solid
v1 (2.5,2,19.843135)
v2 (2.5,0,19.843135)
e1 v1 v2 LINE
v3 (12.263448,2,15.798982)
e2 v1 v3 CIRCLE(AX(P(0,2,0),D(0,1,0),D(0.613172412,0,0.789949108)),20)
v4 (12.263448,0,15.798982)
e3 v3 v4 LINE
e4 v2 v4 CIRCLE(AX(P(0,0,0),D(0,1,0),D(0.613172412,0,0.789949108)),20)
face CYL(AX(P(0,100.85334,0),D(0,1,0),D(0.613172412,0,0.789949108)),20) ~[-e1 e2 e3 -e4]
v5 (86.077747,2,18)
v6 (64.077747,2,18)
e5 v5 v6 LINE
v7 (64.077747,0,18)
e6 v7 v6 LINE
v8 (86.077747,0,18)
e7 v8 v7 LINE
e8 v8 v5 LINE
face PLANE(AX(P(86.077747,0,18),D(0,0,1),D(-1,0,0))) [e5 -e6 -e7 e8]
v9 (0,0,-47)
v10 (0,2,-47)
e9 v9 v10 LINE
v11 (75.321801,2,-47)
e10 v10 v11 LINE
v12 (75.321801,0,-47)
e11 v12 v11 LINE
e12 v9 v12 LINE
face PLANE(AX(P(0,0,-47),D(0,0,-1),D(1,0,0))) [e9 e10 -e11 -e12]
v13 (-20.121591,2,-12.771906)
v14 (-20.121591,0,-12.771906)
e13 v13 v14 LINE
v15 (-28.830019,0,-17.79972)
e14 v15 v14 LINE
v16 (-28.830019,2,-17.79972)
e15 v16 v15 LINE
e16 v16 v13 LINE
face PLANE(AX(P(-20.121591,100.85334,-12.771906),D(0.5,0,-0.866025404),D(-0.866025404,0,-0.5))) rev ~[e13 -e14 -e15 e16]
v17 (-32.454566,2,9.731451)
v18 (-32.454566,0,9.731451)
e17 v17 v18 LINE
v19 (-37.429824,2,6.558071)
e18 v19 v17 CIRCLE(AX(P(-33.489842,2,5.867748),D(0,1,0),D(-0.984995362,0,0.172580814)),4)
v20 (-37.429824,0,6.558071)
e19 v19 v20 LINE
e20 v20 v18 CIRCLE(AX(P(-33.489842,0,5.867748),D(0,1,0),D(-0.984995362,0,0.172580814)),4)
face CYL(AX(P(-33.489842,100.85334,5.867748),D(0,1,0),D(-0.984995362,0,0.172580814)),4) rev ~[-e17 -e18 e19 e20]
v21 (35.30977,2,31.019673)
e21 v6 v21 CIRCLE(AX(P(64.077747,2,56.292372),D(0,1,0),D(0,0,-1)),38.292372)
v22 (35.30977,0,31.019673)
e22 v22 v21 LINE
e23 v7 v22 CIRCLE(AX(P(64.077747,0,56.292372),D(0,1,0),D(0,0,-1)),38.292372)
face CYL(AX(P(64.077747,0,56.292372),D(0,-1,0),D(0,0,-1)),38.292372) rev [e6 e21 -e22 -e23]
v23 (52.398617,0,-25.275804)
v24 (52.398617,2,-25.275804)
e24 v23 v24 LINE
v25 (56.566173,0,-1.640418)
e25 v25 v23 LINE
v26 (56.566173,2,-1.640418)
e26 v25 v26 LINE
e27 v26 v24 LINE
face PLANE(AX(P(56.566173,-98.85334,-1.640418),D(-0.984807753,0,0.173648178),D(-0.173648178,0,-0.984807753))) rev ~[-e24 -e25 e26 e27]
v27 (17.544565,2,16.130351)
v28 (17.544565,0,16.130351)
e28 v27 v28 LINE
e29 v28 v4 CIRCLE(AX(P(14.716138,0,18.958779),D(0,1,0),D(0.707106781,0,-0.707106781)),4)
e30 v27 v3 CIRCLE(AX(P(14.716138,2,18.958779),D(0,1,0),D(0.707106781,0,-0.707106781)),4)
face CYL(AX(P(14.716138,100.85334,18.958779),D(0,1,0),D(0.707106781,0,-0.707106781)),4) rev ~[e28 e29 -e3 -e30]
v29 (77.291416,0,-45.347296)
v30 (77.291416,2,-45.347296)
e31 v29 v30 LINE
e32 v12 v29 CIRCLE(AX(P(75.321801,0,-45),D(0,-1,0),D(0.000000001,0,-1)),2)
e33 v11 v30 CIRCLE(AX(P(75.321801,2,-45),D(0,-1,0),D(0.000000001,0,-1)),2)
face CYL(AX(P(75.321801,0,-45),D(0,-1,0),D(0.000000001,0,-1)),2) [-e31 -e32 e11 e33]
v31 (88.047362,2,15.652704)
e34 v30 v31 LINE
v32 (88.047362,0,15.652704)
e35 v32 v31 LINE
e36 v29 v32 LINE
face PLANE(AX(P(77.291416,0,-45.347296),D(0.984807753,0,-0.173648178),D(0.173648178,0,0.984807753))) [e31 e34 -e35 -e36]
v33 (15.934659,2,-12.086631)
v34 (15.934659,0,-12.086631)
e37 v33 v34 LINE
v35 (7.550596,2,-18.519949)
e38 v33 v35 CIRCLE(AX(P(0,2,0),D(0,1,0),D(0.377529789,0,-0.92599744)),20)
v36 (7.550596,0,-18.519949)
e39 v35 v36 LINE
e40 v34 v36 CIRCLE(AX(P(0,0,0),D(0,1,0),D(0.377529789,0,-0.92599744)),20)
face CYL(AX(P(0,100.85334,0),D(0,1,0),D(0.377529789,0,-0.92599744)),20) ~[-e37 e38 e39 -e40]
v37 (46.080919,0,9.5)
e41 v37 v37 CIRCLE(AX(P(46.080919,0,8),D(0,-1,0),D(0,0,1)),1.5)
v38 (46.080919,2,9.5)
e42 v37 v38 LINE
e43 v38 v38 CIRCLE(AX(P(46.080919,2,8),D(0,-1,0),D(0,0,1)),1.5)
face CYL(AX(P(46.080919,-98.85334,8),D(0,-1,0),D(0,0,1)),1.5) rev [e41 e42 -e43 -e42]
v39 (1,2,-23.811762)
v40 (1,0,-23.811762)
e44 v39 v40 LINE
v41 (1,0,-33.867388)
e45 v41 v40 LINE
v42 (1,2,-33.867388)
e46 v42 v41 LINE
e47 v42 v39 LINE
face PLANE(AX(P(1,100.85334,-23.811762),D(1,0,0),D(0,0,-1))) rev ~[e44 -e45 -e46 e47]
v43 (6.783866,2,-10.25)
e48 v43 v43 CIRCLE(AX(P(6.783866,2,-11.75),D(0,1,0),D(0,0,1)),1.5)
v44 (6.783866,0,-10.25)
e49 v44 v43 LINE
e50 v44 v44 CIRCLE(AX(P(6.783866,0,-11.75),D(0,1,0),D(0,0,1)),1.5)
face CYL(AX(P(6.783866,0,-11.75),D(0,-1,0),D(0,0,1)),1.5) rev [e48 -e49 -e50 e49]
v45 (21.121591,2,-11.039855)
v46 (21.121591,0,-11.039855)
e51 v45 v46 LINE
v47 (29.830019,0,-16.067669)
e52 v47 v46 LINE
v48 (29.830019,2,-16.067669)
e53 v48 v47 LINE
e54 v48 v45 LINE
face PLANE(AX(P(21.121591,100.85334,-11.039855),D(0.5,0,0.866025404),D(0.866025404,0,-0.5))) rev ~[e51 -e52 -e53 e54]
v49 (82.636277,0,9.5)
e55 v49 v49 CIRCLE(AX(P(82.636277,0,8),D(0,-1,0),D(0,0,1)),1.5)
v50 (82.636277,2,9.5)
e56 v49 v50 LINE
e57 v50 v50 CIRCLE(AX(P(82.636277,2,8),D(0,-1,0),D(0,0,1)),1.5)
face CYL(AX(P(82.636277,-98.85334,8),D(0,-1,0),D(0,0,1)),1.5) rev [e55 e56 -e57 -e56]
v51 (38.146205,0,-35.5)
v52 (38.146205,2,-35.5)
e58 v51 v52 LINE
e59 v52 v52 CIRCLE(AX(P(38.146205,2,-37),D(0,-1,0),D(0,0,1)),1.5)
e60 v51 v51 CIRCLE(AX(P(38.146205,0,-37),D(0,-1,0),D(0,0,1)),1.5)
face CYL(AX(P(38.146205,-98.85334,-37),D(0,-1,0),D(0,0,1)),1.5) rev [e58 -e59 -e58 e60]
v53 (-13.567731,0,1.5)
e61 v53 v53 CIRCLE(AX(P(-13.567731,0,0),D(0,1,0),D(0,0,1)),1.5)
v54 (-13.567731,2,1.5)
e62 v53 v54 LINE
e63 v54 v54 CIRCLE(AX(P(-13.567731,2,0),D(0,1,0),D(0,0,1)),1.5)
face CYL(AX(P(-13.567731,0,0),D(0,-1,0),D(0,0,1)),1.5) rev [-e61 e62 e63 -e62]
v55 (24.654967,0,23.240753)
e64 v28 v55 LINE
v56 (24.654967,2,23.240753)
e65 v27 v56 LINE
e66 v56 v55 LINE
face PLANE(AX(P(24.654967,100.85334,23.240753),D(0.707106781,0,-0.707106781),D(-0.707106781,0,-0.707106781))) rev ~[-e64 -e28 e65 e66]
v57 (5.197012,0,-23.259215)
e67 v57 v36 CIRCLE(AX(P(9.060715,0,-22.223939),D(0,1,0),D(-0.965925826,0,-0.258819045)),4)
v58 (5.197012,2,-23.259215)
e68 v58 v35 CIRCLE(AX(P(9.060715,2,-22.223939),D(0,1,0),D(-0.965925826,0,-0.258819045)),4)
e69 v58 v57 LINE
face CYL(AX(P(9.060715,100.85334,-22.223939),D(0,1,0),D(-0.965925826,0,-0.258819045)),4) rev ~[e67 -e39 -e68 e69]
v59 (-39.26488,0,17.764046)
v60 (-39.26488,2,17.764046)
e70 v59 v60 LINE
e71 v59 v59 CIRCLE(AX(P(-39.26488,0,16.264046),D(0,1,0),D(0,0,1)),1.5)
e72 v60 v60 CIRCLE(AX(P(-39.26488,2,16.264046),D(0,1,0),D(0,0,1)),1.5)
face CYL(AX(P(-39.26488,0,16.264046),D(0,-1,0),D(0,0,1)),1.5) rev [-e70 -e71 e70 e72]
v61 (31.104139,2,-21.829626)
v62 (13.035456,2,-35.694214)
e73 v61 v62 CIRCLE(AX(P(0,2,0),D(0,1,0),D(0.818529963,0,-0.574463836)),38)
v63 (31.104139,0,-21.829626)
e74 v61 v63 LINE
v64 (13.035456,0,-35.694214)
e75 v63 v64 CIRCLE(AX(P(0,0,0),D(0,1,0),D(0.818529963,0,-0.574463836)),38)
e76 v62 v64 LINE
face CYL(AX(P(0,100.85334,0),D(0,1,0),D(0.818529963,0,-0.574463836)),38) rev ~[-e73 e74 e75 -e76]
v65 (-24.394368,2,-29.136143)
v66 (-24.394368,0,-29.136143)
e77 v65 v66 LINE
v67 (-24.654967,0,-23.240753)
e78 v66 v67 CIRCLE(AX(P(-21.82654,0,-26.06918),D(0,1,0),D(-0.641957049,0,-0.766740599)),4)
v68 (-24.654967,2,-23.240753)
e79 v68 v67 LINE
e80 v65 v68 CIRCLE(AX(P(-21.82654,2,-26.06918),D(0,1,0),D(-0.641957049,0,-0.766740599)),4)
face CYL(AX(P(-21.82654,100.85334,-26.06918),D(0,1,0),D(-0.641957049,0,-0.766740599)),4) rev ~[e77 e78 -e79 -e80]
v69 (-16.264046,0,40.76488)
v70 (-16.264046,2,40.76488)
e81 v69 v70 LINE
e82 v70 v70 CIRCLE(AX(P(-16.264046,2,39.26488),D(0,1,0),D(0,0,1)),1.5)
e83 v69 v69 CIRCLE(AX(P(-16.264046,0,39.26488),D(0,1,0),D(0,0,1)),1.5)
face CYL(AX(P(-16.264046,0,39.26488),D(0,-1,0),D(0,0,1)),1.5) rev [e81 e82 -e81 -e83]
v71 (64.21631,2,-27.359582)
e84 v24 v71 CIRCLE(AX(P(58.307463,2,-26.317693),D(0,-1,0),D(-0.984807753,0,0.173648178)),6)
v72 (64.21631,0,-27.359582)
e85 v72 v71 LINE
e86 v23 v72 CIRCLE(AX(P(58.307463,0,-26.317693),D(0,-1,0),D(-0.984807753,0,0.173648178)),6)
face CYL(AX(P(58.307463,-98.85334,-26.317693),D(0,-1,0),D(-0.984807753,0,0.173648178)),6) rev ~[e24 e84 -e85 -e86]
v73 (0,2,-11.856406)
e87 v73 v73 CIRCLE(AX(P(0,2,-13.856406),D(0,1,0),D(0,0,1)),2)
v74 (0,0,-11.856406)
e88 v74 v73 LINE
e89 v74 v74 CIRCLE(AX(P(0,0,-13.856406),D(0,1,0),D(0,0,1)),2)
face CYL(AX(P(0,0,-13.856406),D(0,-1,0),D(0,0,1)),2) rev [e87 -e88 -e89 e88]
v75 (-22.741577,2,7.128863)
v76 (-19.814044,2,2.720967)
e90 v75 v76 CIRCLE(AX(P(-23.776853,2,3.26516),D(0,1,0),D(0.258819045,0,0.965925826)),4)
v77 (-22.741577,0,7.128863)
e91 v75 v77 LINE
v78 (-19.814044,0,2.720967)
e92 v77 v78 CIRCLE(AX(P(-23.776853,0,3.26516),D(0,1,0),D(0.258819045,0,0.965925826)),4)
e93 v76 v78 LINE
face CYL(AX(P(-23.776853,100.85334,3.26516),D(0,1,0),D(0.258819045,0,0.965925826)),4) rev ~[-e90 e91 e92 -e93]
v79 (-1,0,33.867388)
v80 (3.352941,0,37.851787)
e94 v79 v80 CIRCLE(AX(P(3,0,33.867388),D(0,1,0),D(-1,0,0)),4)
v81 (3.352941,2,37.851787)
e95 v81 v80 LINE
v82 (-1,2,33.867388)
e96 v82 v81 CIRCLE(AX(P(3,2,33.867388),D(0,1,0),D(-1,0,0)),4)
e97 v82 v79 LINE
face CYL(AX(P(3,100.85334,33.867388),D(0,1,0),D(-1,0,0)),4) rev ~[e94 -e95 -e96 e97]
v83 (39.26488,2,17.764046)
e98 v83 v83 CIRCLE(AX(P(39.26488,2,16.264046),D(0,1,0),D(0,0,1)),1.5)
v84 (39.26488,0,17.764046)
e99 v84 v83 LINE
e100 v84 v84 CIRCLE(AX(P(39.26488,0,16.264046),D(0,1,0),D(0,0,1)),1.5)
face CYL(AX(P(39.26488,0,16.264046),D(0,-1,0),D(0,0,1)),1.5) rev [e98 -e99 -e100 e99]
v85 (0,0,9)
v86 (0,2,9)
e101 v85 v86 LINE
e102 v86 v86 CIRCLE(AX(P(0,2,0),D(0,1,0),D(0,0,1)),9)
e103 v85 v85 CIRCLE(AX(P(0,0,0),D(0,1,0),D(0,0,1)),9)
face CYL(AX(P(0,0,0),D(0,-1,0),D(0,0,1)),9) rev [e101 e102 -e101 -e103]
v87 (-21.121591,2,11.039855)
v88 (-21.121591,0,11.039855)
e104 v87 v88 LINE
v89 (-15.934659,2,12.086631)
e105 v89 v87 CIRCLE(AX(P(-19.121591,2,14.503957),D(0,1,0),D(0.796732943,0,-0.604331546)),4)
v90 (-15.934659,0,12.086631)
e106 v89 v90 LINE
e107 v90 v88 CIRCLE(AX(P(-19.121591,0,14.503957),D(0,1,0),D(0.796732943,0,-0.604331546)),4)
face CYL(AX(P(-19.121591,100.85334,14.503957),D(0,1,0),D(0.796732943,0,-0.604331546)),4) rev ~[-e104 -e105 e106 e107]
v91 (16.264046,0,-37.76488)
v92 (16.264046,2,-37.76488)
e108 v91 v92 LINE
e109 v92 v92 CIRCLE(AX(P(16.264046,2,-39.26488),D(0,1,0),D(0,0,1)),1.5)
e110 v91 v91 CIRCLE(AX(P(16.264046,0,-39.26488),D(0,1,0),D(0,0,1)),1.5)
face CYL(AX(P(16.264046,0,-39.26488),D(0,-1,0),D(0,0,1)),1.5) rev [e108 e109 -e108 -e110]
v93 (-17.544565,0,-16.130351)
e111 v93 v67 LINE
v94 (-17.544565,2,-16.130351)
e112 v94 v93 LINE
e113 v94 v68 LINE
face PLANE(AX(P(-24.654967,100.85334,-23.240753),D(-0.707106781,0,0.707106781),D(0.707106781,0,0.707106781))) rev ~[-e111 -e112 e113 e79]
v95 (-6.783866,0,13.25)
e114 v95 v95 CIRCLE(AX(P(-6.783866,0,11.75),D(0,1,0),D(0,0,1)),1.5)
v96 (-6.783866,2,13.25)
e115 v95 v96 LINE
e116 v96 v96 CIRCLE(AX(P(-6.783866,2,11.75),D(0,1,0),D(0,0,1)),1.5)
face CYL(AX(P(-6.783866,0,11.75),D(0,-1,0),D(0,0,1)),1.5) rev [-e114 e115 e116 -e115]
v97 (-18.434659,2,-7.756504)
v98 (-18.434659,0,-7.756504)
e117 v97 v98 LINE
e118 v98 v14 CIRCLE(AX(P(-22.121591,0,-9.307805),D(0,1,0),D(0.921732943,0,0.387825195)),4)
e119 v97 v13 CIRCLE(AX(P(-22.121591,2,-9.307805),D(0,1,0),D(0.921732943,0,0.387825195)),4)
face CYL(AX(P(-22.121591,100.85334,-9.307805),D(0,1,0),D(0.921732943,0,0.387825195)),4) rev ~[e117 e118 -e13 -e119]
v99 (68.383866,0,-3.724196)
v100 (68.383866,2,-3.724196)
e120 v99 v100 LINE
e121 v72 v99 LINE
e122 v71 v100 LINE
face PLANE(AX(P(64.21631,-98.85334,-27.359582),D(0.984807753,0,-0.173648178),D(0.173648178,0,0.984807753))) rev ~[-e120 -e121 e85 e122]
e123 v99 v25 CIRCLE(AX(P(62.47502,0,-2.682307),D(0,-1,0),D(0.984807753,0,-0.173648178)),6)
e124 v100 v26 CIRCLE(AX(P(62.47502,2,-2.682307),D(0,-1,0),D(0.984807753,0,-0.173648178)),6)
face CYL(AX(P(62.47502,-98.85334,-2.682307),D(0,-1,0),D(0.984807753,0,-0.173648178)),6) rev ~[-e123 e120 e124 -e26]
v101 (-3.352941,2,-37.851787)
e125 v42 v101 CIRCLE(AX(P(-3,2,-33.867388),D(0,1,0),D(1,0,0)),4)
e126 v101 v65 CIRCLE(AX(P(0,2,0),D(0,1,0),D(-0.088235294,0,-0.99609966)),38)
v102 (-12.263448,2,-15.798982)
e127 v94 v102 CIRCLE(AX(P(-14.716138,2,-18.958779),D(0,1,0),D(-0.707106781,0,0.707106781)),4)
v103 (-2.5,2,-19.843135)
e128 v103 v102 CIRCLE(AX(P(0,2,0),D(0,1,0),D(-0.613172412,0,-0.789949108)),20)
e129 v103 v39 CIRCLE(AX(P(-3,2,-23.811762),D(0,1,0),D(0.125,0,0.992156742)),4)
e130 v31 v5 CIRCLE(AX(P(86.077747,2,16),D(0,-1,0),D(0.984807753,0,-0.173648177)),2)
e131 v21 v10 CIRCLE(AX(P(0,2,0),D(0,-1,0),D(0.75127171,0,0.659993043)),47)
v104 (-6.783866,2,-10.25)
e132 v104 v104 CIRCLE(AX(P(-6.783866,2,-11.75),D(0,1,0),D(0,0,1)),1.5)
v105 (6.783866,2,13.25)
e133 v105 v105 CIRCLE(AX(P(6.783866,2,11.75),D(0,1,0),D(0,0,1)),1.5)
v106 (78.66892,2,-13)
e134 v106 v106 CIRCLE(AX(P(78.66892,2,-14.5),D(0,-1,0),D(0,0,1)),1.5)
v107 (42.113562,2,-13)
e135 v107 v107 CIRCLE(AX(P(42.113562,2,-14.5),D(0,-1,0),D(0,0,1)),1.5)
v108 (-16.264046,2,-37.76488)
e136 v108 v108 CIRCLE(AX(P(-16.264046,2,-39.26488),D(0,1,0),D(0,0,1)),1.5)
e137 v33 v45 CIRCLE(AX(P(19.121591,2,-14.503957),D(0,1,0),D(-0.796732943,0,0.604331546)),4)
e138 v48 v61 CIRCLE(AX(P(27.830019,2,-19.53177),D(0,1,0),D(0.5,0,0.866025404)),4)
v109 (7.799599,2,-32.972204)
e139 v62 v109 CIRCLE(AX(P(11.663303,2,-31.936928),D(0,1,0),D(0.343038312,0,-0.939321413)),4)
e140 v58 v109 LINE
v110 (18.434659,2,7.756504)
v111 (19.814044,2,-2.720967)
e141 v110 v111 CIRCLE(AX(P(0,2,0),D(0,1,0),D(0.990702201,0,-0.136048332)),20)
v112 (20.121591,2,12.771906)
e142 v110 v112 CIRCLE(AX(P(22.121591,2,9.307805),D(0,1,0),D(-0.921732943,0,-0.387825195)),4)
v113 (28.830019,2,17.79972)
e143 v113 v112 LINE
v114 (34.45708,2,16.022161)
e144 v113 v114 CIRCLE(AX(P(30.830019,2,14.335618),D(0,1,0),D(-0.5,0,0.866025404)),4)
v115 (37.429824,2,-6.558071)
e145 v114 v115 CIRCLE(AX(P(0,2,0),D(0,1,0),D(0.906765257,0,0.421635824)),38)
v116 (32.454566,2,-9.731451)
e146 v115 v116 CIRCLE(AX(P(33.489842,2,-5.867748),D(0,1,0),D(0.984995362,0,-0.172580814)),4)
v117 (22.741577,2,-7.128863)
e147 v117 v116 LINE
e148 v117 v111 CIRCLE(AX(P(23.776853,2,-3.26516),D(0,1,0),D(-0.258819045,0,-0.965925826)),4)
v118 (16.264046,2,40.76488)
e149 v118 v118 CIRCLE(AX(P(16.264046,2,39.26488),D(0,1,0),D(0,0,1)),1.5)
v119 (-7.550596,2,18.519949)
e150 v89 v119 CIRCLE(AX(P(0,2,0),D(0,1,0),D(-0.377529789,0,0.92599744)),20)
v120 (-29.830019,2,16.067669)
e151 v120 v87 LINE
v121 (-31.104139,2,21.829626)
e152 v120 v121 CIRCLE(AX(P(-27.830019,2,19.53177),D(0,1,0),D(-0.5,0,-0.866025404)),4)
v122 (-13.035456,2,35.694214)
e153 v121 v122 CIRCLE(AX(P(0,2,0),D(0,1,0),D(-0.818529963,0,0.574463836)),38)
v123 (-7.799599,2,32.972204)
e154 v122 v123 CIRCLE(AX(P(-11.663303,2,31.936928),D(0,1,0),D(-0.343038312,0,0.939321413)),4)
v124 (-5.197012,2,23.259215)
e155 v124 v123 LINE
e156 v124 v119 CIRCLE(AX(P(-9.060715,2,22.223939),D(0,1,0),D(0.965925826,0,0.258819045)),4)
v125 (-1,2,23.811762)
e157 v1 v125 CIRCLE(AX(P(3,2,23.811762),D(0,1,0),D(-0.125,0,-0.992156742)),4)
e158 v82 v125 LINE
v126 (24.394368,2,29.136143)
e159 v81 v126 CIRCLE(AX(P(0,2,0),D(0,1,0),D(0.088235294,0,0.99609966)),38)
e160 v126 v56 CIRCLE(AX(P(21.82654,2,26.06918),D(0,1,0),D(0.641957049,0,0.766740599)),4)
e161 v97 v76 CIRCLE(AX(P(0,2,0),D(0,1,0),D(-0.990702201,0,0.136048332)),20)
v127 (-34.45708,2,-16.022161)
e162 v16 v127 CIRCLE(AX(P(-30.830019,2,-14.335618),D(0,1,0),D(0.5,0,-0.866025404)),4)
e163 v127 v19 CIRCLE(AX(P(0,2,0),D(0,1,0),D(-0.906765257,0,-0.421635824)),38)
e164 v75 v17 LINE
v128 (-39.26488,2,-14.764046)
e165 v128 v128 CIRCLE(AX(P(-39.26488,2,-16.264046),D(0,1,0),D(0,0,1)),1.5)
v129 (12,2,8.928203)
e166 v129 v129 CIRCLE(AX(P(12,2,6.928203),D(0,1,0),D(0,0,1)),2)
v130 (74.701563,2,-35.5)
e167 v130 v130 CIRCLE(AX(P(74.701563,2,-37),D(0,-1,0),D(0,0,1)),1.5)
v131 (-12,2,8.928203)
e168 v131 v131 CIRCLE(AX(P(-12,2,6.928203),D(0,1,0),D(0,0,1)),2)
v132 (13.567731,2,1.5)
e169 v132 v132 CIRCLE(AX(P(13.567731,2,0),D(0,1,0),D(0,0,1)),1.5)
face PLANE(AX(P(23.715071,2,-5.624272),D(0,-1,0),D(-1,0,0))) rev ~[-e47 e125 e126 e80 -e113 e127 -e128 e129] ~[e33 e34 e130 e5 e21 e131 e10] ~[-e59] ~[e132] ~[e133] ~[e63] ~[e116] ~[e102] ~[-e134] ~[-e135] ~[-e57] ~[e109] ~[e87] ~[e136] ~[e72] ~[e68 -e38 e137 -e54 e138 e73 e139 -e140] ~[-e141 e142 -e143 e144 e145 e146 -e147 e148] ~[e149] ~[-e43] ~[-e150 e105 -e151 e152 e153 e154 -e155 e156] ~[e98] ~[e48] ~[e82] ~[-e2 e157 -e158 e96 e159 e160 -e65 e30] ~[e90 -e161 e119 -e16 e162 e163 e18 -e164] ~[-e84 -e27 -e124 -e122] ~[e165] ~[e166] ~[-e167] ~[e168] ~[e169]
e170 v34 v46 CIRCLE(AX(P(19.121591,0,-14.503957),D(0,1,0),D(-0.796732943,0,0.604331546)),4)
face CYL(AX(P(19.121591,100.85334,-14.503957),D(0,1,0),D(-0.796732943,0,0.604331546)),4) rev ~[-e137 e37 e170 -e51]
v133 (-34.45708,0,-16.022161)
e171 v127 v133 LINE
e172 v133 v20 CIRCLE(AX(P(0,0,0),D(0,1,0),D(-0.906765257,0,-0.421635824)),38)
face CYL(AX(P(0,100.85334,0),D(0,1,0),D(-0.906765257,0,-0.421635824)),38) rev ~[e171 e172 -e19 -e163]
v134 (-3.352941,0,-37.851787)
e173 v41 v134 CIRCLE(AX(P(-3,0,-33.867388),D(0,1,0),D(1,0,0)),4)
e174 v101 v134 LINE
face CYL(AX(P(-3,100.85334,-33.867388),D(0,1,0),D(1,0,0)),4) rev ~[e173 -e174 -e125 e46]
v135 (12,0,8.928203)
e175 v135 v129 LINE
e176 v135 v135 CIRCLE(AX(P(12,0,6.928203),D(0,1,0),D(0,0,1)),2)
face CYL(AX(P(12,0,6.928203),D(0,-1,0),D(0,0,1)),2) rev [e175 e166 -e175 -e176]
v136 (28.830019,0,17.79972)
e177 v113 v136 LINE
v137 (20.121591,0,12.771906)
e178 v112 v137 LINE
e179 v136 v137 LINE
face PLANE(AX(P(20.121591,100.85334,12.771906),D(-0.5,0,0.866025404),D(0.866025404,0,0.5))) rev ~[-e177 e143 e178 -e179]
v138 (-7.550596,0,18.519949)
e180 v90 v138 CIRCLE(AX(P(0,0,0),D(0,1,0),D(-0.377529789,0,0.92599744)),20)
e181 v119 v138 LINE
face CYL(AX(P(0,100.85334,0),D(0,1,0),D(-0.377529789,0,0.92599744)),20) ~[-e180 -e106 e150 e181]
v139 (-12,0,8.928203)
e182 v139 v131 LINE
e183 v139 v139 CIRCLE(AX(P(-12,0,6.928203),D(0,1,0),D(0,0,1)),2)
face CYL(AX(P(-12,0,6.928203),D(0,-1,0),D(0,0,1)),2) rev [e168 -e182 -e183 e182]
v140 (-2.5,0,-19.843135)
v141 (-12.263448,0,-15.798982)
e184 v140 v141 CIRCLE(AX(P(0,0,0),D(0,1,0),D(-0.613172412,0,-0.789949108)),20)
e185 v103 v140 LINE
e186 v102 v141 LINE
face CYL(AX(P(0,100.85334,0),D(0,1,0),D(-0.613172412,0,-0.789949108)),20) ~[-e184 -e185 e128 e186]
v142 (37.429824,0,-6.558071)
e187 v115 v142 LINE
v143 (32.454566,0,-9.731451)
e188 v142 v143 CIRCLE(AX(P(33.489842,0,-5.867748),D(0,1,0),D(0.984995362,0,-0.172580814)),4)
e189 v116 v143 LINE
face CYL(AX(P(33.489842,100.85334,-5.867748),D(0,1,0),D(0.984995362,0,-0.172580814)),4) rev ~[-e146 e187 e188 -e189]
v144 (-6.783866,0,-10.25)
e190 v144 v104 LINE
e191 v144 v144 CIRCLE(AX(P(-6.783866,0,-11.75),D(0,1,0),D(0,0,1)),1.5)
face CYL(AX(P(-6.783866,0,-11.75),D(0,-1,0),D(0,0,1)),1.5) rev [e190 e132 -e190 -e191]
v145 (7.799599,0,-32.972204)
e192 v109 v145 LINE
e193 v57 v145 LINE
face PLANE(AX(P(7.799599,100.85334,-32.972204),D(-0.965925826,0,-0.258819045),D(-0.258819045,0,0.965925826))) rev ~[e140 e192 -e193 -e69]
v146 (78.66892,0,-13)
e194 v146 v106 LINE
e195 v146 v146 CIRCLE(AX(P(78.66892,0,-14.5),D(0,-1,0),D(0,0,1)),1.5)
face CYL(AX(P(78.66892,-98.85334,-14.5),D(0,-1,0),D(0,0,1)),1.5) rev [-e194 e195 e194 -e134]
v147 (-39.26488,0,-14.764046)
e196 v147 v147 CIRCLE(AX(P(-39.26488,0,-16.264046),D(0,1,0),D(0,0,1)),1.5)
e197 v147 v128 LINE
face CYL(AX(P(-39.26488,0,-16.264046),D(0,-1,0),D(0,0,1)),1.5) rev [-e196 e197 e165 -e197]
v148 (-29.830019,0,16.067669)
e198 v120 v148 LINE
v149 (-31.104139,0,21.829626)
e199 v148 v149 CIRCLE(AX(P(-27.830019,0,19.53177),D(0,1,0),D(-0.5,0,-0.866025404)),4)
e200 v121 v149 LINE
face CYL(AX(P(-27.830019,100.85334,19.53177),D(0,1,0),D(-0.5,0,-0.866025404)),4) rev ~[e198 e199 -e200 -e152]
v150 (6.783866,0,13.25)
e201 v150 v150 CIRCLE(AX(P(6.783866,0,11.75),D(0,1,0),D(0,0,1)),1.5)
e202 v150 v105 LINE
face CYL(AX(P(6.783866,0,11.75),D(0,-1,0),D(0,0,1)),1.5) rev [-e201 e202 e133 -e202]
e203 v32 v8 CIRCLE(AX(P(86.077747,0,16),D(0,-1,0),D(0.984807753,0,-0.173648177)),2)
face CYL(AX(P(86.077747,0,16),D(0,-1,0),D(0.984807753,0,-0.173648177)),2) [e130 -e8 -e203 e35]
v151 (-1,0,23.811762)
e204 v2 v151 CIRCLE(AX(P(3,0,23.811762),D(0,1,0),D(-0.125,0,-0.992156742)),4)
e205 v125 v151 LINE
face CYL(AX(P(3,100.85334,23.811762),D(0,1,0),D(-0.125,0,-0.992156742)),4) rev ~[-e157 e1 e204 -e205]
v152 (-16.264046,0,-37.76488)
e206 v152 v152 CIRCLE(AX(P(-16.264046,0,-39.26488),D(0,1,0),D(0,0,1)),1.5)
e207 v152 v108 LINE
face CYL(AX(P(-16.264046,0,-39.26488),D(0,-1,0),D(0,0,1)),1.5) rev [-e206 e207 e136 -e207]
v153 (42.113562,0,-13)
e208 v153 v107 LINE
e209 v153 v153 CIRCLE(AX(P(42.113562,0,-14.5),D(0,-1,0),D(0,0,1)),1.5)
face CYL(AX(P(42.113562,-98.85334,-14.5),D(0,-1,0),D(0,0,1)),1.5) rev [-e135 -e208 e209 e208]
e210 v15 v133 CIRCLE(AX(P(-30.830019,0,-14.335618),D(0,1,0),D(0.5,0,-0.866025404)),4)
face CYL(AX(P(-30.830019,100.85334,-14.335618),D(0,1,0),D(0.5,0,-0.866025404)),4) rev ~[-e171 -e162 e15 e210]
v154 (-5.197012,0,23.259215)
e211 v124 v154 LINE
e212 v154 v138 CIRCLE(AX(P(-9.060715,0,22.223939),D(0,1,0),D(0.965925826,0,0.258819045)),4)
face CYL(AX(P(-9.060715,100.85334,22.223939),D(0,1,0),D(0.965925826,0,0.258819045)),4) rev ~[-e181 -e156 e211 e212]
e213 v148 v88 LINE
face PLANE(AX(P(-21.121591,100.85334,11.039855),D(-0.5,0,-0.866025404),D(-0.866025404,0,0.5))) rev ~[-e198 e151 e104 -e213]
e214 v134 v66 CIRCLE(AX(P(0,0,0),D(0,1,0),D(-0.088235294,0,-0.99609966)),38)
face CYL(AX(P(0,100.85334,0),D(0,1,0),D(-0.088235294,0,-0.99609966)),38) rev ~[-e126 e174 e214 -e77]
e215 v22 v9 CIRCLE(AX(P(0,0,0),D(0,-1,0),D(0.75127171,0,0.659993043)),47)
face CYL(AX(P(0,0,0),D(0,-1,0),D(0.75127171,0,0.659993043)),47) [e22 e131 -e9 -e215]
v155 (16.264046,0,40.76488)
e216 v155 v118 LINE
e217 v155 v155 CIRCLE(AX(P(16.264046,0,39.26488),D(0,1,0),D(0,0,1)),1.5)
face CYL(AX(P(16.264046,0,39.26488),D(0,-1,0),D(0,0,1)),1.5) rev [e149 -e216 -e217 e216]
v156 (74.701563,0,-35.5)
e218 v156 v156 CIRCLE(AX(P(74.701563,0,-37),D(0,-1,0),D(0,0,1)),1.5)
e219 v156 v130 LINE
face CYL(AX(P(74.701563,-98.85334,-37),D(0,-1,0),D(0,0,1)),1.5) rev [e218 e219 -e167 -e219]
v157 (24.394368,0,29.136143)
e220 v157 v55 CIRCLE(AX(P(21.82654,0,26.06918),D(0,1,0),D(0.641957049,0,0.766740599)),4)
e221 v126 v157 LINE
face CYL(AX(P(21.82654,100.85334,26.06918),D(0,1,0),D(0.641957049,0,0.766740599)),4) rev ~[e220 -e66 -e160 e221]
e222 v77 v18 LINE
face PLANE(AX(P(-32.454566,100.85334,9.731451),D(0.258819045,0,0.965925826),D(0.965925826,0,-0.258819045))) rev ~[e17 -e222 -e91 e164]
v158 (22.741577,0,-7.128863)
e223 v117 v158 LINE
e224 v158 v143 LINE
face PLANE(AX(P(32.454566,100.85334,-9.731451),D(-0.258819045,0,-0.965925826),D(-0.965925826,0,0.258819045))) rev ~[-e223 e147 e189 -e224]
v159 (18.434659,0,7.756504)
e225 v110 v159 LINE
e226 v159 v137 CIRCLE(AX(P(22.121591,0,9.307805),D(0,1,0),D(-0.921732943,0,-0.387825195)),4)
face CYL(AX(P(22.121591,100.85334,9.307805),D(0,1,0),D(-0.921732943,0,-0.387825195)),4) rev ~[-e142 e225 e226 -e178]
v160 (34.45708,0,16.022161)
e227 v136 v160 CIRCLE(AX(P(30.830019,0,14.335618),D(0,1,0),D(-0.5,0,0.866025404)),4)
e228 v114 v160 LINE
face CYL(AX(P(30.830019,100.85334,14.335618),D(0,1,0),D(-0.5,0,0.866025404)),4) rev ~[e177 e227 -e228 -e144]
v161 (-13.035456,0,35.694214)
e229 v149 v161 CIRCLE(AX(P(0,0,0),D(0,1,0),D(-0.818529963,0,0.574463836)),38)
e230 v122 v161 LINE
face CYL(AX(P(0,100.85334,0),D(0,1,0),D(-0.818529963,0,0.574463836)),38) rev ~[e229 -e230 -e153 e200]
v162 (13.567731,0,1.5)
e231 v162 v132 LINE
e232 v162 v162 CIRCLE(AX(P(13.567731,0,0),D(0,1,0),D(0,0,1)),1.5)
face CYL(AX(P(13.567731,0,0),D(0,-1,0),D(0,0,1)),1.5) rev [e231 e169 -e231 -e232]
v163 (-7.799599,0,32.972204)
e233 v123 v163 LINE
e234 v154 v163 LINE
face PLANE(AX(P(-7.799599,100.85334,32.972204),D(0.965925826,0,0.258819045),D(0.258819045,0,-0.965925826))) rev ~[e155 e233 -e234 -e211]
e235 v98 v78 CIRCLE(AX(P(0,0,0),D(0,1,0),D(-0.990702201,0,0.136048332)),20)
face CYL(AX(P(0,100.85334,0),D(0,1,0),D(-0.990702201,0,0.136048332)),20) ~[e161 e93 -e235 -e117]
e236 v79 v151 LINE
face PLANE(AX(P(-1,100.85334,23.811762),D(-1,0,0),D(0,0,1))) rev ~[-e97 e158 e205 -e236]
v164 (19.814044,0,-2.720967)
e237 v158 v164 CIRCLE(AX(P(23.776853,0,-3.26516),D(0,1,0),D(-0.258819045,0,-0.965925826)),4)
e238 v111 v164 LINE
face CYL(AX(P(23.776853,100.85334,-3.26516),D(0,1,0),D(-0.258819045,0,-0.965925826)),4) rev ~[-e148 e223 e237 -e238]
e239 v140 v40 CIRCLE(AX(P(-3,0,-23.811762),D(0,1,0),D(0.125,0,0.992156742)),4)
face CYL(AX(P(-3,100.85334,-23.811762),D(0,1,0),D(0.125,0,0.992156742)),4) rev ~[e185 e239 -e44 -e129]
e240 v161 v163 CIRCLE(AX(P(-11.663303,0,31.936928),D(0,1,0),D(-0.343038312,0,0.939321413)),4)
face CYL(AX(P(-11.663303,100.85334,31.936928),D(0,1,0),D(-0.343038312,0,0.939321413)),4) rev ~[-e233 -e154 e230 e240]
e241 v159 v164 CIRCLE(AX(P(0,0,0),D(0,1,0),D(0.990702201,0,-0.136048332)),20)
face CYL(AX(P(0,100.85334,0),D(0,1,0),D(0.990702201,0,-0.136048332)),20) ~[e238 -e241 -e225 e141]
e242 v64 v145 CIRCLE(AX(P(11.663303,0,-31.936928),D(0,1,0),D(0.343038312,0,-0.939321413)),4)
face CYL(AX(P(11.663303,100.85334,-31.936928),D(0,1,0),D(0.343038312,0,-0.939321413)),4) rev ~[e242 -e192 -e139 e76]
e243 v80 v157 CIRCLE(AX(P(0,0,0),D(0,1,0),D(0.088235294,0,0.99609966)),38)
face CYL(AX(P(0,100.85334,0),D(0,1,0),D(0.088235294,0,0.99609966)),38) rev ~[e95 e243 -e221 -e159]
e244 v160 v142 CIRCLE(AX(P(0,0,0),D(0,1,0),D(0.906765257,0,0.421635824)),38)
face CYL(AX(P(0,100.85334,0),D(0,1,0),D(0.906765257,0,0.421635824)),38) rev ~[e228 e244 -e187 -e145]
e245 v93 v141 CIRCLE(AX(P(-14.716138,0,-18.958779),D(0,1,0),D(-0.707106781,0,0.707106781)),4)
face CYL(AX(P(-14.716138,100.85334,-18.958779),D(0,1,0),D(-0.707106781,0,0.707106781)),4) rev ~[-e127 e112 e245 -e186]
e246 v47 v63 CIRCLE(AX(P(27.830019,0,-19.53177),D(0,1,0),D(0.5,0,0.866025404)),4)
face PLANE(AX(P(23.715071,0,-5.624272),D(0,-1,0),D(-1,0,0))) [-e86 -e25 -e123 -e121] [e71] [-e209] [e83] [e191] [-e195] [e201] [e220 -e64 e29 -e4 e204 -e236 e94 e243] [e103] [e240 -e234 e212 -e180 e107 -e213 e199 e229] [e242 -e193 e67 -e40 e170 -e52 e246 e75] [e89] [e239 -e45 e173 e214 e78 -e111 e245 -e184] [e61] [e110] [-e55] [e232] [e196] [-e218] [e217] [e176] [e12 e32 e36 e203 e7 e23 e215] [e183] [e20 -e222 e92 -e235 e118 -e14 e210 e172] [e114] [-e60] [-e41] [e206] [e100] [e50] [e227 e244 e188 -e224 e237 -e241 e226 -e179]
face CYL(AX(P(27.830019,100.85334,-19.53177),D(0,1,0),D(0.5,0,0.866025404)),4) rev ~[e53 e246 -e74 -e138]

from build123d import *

# Parameters (mm, degrees)
SKETCH_1_R               = 1.5
SKETCH_1_R_2             = 9
SKETCH_1_R_3             = 2
EXTRUDE_1_DEPTH          = 2
CUT_EXTRUDE_1_DEPTH      = 100.85333965
CUT_EXTRUDE_1_DEPTH_BACK = 100.85333965
SKETCH_2_R               = 1.5
CUT_EXTRUDE_2_DEPTH      = 100.85333965
CUT_EXTRUDE_2_DEPTH_BACK = 100.85333965


with BuildPart() as part:
    # 草图1 → 凸台-拉伸1 (new body)
    with BuildSketch(Plane(origin=(0, 0, 0), x_dir=(1, 0, 0), z_dir=(0, 1, 0))):
        with BuildLine():
            Line((0, 47), (75.321800738, 47))
            ThreePointArc((75.321800738, 47), (76.607375957, 46.532088886), (77.291416244, 45.347296355))
            Line((77.291416244, 45.347296355), (88.047362067, -15.652703645))
            ThreePointArc((88.047362067, -15.652703645), (87.609835447, -17.285575219), (86.077746561, -18))
            Line((86.077746561, -18), (64.077746561, -18))
            ThreePointArc((64.077746561, -18), (48.289235397, -21.406433974), (35.309770387, -31.019673035))
            ThreePointArc((35.309770387, -31.019673035), (-42.818948099, -19.378794691), (0, 47))
        make_face()
        with Locations(Location((-16.264045876, 39.264880132, 0), (0, 0, 270))):
            Circle(SKETCH_1_R, mode=Mode.SUBTRACT)
        with Locations(Location((16.264045876, 39.264880132, 0), (0, 0, 270))):
            Circle(SKETCH_1_R, mode=Mode.SUBTRACT)
        with Locations(Location((39.264880132, -16.264045876, 0), (0, 0, 270))):
            Circle(SKETCH_1_R, mode=Mode.SUBTRACT)
        with Locations(Location((16.264045876, -39.264880132, 0), (0, 0, 270))):
            Circle(SKETCH_1_R, mode=Mode.SUBTRACT)
        with Locations(Location((-16.264045876, -39.264880132, 0), (0, 0, 270))):
            Circle(SKETCH_1_R, mode=Mode.SUBTRACT)
        with Locations(Location((-39.264880132, -16.264045876, 0), (0, 0, 270))):
            Circle(SKETCH_1_R, mode=Mode.SUBTRACT)
        with Locations(Location((-39.264880132, 16.264045876, 0), (0, 0, 270))):
            Circle(SKETCH_1_R, mode=Mode.SUBTRACT)
        with Locations(Location((0, 0, 0), (0, 0, 270))):
            Circle(SKETCH_1_R_2, mode=Mode.SUBTRACT)
        with Locations(Location((-6.783865663, 11.75, 0), (0, 0, 270))):
            Circle(SKETCH_1_R, mode=Mode.SUBTRACT)
        with Locations(Location((6.783865663, 11.75, 0), (0, 0, 270))):
            Circle(SKETCH_1_R, mode=Mode.SUBTRACT)
        with Locations(Location((13.567731326, 0, 0), (0, 0, 270))):
            Circle(SKETCH_1_R, mode=Mode.SUBTRACT)
        with Locations(Location((6.783865663, -11.75, 0), (0, 0, 270))):
            Circle(SKETCH_1_R, mode=Mode.SUBTRACT)
        with Locations(Location((-6.783865663, -11.75, 0), (0, 0, 270))):
            Circle(SKETCH_1_R, mode=Mode.SUBTRACT)
        with Locations(Location((-13.567731326, 0, 0), (0, 0, 270))):
            Circle(SKETCH_1_R, mode=Mode.SUBTRACT)
        with Locations(Location((0, 13.856406461, 0), (0, 0, 270))):
            Circle(SKETCH_1_R_3, mode=Mode.SUBTRACT)
        with Locations(Location((-12, -6.92820323, 0), (0, 0, 270))):
            Circle(SKETCH_1_R_3, mode=Mode.SUBTRACT)
        with Locations(Location((12, -6.92820323, 0), (0, 0, 270))):
            Circle(SKETCH_1_R_3, mode=Mode.SUBTRACT)
    extrude(amount=EXTRUDE_1_DEPTH)

    # 草图2 → 切除-拉伸1 (cut, two sides: drawn at the far end of the back side and taken through both)
    with BuildSketch(Plane(origin=(0, 2, 0), x_dir=(1, 0, 0), z_dir=(0, 1, 0)).offset(-CUT_EXTRUDE_1_DEPTH_BACK)):
        with Locations(Location((74.70156336, 37, 0), (0, 0, 270))):
            Circle(SKETCH_2_R)
        with Locations(Location((78.668920425, 14.5, 0), (0, 0, 270))):
            Circle(SKETCH_2_R)
        with Locations(Location((82.636277491, -8, 0), (0, 0, 270))):
            Circle(SKETCH_2_R)
        with Locations(Location((38.146205332, 37, 0), (0, 0, 270))):
            Circle(SKETCH_2_R)
        with Locations(Location((46.080919464, -8, 0), (0, 0, 270))):
            Circle(SKETCH_2_R)
        with Locations(Location((42.113562398, 14.5, 0), (0, 0, 270))):
            Circle(SKETCH_2_R)
        with BuildLine():
            Line((64.216309798, 27.359582102), (68.383866062, 3.72419603))
            ThreePointArc((68.383866062, 3.72419603), (63.51690861, -3.226539554), (56.566173025, 1.640417898))
            Line((56.566173025, 1.640417898), (52.398616761, 25.27580397))
            ThreePointArc((52.398616761, 25.27580397), (57.265574214, 32.226539554), (64.216309798, 27.359582102))
        make_face()
    extrude(amount=CUT_EXTRUDE_1_DEPTH + CUT_EXTRUDE_1_DEPTH_BACK, mode=Mode.SUBTRACT)

    # 草图3 → 切除-拉伸2 (cut, two sides: drawn at the far end of the back side and taken through both)
    with BuildSketch(Plane.XZ.offset(-CUT_EXTRUDE_2_DEPTH_BACK)):
        with BuildLine():
            ThreePointArc((7.550595775, -18.519948797), (12.17522858, -15.867066806), (15.934658856, -12.086630926))
            ThreePointArc((15.934658856, -12.086630926), (18.33030278, -10.583005244), (21.121590627, -11.039855496))
            Line((21.121590627, -11.039855496), (29.830018752, -16.067668818))
            ThreePointArc((29.830018752, -16.067668818), (31.73567133, -18.668128181), (31.104138605, -21.829625778))
            ThreePointArc((31.104138605, -21.829625778), (23.132934302, -30.147426931), (13.035455865, -35.694213682))
            ThreePointArc((13.035455865, -35.694213682), (9.818230989, -35.485971662), (7.799599311, -32.972204212))
            Line((7.799599311, -32.972204212), (5.197011625, -23.259214737))
            ThreePointArc((5.197011625, -23.259214737), (5.478166623, -20.44479617), (7.550595775, -18.519948797))
        make_face()
        with BuildLine():
            ThreePointArc((-12.263448247, -15.798982153), (-7.653668647, -18.47759065), (-2.5, -19.843134833))
            ThreePointArc((-2.5, -19.843134833), (0, -21.166010489), (1, -23.8117618))
            Line((1, -23.8117618), (1, -33.867388444))
            ThreePointArc((1, -33.867388444), (-0.29923758, -36.817961668), (-3.352941176, -37.851787084))
            ThreePointArc((-3.352941176, -37.851787084), (-14.54197043, -35.107422235), (-24.394367884, -29.13614277))
            ThreePointArc((-24.394367884, -29.13614277), (-25.822637443, -26.245823287), (-24.654966811, -23.240753248))
            Line((-24.654966811, -23.240753248), (-17.544565022, -16.130351459))
            ThreePointArc((-17.544565022, -16.130351459), (-14.966629547, -14.966629547), (-12.263448247, -15.798982153))
        make_face()
        with BuildLine():
            ThreePointArc((-19.814044022, 2.720966644), (-19.828897227, -2.610523844), (-18.434658856, -7.756503907))
            ThreePointArc((-18.434658856, -7.756503907), (-18.33030278, -10.583005244), (-20.121590627, -12.771906304))
            Line((-20.121590627, -12.771906304), (-28.830018752, -17.799719626))
            ThreePointArc((-28.830018752, -17.799719626), (-32.03490891, -18.149833488), (-34.457079782, -16.022161306))
            ThreePointArc((-34.457079782, -16.022161306), (-37.674904732, -4.959995304), (-37.429823749, 6.558070912))
            ThreePointArc((-37.429823749, 6.558070912), (-35.640868431, 9.240148374), (-32.454566122, 9.731450963))
            Line((-32.454566122, 9.731450963), (-22.741576647, 7.128863277))
            ThreePointArc((-22.741576647, 7.128863277), (-20.44479617, 5.478166623), (-19.814044022, 2.720966644))
        make_face()
        with BuildLine():
            ThreePointArc((-7.550595775, 18.519948797), (-12.17522858, 15.867066806), (-15.934658856, 12.086630926))
            ThreePointArc((-15.934658856, 12.086630926), (-18.33030278, 10.583005244), (-21.121590627, 11.039855496))
            Line((-21.121590627, 11.039855496), (-29.830018752, 16.067668818))
            ThreePointArc((-29.830018752, 16.067668818), (-31.73567133, 18.668128181), (-31.104138605, 21.829625778))
            ThreePointArc((-31.104138605, 21.829625778), (-23.132934302, 30.147426931), (-13.035455865, 35.694213682))
            ThreePointArc((-13.035455865, 35.694213682), (-9.818230989, 35.485971662), (-7.799599311, 32.972204212))
            Line((-7.799599311, 32.972204212), (-5.197011625, 23.259214737))
            ThreePointArc((-5.197011625, 23.259214737), (-5.478166623, 20.44479617), (-7.550595775, 18.519948797))
        make_face()
        with BuildLine():
            ThreePointArc((12.263448247, 15.798982153), (7.653668647, 18.47759065), (2.5, 19.843134833))
            ThreePointArc((2.5, 19.843134833), (0, 21.166010489), (-1, 23.8117618))
            Line((-1, 23.8117618), (-1, 33.867388444))
            ThreePointArc((-1, 33.867388444), (0.29923758, 36.817961668), (3.352941176, 37.851787084))
            ThreePointArc((3.352941176, 37.851787084), (14.54197043, 35.107422235), (24.394367884, 29.13614277))
            ThreePointArc((24.394367884, 29.13614277), (25.822637443, 26.245823287), (24.654966811, 23.240753248))
            Line((24.654966811, 23.240753248), (17.544565022, 16.130351459))
            ThreePointArc((17.544565022, 16.130351459), (14.966629547, 14.966629547), (12.263448247, 15.798982153))
        make_face()
        with BuildLine():
            ThreePointArc((19.814044022, -2.720966644), (19.828897227, 2.610523844), (18.434658856, 7.756503907))
            ThreePointArc((18.434658856, 7.756503907), (18.33030278, 10.583005244), (20.121590627, 12.771906304))
            Line((20.121590627, 12.771906304), (28.830018752, 17.799719626))
            ThreePointArc((28.830018752, 17.799719626), (32.03490891, 18.149833488), (34.457079782, 16.022161306))
            ThreePointArc((34.457079782, 16.022161306), (37.674904732, 4.959995304), (37.429823749, -6.558070912))
            ThreePointArc((37.429823749, -6.558070912), (35.640868431, -9.240148374), (32.454566122, -9.731450963))
            Line((32.454566122, -9.731450963), (22.741576647, -7.128863277))
            ThreePointArc((22.741576647, -7.128863277), (20.44479617, -5.478166623), (19.814044022, -2.720966644))
        make_face()
    extrude(amount=CUT_EXTRUDE_2_DEPTH + CUT_EXTRUDE_2_DEPTH_BACK, mode=Mode.SUBTRACT)


solid = part.part
